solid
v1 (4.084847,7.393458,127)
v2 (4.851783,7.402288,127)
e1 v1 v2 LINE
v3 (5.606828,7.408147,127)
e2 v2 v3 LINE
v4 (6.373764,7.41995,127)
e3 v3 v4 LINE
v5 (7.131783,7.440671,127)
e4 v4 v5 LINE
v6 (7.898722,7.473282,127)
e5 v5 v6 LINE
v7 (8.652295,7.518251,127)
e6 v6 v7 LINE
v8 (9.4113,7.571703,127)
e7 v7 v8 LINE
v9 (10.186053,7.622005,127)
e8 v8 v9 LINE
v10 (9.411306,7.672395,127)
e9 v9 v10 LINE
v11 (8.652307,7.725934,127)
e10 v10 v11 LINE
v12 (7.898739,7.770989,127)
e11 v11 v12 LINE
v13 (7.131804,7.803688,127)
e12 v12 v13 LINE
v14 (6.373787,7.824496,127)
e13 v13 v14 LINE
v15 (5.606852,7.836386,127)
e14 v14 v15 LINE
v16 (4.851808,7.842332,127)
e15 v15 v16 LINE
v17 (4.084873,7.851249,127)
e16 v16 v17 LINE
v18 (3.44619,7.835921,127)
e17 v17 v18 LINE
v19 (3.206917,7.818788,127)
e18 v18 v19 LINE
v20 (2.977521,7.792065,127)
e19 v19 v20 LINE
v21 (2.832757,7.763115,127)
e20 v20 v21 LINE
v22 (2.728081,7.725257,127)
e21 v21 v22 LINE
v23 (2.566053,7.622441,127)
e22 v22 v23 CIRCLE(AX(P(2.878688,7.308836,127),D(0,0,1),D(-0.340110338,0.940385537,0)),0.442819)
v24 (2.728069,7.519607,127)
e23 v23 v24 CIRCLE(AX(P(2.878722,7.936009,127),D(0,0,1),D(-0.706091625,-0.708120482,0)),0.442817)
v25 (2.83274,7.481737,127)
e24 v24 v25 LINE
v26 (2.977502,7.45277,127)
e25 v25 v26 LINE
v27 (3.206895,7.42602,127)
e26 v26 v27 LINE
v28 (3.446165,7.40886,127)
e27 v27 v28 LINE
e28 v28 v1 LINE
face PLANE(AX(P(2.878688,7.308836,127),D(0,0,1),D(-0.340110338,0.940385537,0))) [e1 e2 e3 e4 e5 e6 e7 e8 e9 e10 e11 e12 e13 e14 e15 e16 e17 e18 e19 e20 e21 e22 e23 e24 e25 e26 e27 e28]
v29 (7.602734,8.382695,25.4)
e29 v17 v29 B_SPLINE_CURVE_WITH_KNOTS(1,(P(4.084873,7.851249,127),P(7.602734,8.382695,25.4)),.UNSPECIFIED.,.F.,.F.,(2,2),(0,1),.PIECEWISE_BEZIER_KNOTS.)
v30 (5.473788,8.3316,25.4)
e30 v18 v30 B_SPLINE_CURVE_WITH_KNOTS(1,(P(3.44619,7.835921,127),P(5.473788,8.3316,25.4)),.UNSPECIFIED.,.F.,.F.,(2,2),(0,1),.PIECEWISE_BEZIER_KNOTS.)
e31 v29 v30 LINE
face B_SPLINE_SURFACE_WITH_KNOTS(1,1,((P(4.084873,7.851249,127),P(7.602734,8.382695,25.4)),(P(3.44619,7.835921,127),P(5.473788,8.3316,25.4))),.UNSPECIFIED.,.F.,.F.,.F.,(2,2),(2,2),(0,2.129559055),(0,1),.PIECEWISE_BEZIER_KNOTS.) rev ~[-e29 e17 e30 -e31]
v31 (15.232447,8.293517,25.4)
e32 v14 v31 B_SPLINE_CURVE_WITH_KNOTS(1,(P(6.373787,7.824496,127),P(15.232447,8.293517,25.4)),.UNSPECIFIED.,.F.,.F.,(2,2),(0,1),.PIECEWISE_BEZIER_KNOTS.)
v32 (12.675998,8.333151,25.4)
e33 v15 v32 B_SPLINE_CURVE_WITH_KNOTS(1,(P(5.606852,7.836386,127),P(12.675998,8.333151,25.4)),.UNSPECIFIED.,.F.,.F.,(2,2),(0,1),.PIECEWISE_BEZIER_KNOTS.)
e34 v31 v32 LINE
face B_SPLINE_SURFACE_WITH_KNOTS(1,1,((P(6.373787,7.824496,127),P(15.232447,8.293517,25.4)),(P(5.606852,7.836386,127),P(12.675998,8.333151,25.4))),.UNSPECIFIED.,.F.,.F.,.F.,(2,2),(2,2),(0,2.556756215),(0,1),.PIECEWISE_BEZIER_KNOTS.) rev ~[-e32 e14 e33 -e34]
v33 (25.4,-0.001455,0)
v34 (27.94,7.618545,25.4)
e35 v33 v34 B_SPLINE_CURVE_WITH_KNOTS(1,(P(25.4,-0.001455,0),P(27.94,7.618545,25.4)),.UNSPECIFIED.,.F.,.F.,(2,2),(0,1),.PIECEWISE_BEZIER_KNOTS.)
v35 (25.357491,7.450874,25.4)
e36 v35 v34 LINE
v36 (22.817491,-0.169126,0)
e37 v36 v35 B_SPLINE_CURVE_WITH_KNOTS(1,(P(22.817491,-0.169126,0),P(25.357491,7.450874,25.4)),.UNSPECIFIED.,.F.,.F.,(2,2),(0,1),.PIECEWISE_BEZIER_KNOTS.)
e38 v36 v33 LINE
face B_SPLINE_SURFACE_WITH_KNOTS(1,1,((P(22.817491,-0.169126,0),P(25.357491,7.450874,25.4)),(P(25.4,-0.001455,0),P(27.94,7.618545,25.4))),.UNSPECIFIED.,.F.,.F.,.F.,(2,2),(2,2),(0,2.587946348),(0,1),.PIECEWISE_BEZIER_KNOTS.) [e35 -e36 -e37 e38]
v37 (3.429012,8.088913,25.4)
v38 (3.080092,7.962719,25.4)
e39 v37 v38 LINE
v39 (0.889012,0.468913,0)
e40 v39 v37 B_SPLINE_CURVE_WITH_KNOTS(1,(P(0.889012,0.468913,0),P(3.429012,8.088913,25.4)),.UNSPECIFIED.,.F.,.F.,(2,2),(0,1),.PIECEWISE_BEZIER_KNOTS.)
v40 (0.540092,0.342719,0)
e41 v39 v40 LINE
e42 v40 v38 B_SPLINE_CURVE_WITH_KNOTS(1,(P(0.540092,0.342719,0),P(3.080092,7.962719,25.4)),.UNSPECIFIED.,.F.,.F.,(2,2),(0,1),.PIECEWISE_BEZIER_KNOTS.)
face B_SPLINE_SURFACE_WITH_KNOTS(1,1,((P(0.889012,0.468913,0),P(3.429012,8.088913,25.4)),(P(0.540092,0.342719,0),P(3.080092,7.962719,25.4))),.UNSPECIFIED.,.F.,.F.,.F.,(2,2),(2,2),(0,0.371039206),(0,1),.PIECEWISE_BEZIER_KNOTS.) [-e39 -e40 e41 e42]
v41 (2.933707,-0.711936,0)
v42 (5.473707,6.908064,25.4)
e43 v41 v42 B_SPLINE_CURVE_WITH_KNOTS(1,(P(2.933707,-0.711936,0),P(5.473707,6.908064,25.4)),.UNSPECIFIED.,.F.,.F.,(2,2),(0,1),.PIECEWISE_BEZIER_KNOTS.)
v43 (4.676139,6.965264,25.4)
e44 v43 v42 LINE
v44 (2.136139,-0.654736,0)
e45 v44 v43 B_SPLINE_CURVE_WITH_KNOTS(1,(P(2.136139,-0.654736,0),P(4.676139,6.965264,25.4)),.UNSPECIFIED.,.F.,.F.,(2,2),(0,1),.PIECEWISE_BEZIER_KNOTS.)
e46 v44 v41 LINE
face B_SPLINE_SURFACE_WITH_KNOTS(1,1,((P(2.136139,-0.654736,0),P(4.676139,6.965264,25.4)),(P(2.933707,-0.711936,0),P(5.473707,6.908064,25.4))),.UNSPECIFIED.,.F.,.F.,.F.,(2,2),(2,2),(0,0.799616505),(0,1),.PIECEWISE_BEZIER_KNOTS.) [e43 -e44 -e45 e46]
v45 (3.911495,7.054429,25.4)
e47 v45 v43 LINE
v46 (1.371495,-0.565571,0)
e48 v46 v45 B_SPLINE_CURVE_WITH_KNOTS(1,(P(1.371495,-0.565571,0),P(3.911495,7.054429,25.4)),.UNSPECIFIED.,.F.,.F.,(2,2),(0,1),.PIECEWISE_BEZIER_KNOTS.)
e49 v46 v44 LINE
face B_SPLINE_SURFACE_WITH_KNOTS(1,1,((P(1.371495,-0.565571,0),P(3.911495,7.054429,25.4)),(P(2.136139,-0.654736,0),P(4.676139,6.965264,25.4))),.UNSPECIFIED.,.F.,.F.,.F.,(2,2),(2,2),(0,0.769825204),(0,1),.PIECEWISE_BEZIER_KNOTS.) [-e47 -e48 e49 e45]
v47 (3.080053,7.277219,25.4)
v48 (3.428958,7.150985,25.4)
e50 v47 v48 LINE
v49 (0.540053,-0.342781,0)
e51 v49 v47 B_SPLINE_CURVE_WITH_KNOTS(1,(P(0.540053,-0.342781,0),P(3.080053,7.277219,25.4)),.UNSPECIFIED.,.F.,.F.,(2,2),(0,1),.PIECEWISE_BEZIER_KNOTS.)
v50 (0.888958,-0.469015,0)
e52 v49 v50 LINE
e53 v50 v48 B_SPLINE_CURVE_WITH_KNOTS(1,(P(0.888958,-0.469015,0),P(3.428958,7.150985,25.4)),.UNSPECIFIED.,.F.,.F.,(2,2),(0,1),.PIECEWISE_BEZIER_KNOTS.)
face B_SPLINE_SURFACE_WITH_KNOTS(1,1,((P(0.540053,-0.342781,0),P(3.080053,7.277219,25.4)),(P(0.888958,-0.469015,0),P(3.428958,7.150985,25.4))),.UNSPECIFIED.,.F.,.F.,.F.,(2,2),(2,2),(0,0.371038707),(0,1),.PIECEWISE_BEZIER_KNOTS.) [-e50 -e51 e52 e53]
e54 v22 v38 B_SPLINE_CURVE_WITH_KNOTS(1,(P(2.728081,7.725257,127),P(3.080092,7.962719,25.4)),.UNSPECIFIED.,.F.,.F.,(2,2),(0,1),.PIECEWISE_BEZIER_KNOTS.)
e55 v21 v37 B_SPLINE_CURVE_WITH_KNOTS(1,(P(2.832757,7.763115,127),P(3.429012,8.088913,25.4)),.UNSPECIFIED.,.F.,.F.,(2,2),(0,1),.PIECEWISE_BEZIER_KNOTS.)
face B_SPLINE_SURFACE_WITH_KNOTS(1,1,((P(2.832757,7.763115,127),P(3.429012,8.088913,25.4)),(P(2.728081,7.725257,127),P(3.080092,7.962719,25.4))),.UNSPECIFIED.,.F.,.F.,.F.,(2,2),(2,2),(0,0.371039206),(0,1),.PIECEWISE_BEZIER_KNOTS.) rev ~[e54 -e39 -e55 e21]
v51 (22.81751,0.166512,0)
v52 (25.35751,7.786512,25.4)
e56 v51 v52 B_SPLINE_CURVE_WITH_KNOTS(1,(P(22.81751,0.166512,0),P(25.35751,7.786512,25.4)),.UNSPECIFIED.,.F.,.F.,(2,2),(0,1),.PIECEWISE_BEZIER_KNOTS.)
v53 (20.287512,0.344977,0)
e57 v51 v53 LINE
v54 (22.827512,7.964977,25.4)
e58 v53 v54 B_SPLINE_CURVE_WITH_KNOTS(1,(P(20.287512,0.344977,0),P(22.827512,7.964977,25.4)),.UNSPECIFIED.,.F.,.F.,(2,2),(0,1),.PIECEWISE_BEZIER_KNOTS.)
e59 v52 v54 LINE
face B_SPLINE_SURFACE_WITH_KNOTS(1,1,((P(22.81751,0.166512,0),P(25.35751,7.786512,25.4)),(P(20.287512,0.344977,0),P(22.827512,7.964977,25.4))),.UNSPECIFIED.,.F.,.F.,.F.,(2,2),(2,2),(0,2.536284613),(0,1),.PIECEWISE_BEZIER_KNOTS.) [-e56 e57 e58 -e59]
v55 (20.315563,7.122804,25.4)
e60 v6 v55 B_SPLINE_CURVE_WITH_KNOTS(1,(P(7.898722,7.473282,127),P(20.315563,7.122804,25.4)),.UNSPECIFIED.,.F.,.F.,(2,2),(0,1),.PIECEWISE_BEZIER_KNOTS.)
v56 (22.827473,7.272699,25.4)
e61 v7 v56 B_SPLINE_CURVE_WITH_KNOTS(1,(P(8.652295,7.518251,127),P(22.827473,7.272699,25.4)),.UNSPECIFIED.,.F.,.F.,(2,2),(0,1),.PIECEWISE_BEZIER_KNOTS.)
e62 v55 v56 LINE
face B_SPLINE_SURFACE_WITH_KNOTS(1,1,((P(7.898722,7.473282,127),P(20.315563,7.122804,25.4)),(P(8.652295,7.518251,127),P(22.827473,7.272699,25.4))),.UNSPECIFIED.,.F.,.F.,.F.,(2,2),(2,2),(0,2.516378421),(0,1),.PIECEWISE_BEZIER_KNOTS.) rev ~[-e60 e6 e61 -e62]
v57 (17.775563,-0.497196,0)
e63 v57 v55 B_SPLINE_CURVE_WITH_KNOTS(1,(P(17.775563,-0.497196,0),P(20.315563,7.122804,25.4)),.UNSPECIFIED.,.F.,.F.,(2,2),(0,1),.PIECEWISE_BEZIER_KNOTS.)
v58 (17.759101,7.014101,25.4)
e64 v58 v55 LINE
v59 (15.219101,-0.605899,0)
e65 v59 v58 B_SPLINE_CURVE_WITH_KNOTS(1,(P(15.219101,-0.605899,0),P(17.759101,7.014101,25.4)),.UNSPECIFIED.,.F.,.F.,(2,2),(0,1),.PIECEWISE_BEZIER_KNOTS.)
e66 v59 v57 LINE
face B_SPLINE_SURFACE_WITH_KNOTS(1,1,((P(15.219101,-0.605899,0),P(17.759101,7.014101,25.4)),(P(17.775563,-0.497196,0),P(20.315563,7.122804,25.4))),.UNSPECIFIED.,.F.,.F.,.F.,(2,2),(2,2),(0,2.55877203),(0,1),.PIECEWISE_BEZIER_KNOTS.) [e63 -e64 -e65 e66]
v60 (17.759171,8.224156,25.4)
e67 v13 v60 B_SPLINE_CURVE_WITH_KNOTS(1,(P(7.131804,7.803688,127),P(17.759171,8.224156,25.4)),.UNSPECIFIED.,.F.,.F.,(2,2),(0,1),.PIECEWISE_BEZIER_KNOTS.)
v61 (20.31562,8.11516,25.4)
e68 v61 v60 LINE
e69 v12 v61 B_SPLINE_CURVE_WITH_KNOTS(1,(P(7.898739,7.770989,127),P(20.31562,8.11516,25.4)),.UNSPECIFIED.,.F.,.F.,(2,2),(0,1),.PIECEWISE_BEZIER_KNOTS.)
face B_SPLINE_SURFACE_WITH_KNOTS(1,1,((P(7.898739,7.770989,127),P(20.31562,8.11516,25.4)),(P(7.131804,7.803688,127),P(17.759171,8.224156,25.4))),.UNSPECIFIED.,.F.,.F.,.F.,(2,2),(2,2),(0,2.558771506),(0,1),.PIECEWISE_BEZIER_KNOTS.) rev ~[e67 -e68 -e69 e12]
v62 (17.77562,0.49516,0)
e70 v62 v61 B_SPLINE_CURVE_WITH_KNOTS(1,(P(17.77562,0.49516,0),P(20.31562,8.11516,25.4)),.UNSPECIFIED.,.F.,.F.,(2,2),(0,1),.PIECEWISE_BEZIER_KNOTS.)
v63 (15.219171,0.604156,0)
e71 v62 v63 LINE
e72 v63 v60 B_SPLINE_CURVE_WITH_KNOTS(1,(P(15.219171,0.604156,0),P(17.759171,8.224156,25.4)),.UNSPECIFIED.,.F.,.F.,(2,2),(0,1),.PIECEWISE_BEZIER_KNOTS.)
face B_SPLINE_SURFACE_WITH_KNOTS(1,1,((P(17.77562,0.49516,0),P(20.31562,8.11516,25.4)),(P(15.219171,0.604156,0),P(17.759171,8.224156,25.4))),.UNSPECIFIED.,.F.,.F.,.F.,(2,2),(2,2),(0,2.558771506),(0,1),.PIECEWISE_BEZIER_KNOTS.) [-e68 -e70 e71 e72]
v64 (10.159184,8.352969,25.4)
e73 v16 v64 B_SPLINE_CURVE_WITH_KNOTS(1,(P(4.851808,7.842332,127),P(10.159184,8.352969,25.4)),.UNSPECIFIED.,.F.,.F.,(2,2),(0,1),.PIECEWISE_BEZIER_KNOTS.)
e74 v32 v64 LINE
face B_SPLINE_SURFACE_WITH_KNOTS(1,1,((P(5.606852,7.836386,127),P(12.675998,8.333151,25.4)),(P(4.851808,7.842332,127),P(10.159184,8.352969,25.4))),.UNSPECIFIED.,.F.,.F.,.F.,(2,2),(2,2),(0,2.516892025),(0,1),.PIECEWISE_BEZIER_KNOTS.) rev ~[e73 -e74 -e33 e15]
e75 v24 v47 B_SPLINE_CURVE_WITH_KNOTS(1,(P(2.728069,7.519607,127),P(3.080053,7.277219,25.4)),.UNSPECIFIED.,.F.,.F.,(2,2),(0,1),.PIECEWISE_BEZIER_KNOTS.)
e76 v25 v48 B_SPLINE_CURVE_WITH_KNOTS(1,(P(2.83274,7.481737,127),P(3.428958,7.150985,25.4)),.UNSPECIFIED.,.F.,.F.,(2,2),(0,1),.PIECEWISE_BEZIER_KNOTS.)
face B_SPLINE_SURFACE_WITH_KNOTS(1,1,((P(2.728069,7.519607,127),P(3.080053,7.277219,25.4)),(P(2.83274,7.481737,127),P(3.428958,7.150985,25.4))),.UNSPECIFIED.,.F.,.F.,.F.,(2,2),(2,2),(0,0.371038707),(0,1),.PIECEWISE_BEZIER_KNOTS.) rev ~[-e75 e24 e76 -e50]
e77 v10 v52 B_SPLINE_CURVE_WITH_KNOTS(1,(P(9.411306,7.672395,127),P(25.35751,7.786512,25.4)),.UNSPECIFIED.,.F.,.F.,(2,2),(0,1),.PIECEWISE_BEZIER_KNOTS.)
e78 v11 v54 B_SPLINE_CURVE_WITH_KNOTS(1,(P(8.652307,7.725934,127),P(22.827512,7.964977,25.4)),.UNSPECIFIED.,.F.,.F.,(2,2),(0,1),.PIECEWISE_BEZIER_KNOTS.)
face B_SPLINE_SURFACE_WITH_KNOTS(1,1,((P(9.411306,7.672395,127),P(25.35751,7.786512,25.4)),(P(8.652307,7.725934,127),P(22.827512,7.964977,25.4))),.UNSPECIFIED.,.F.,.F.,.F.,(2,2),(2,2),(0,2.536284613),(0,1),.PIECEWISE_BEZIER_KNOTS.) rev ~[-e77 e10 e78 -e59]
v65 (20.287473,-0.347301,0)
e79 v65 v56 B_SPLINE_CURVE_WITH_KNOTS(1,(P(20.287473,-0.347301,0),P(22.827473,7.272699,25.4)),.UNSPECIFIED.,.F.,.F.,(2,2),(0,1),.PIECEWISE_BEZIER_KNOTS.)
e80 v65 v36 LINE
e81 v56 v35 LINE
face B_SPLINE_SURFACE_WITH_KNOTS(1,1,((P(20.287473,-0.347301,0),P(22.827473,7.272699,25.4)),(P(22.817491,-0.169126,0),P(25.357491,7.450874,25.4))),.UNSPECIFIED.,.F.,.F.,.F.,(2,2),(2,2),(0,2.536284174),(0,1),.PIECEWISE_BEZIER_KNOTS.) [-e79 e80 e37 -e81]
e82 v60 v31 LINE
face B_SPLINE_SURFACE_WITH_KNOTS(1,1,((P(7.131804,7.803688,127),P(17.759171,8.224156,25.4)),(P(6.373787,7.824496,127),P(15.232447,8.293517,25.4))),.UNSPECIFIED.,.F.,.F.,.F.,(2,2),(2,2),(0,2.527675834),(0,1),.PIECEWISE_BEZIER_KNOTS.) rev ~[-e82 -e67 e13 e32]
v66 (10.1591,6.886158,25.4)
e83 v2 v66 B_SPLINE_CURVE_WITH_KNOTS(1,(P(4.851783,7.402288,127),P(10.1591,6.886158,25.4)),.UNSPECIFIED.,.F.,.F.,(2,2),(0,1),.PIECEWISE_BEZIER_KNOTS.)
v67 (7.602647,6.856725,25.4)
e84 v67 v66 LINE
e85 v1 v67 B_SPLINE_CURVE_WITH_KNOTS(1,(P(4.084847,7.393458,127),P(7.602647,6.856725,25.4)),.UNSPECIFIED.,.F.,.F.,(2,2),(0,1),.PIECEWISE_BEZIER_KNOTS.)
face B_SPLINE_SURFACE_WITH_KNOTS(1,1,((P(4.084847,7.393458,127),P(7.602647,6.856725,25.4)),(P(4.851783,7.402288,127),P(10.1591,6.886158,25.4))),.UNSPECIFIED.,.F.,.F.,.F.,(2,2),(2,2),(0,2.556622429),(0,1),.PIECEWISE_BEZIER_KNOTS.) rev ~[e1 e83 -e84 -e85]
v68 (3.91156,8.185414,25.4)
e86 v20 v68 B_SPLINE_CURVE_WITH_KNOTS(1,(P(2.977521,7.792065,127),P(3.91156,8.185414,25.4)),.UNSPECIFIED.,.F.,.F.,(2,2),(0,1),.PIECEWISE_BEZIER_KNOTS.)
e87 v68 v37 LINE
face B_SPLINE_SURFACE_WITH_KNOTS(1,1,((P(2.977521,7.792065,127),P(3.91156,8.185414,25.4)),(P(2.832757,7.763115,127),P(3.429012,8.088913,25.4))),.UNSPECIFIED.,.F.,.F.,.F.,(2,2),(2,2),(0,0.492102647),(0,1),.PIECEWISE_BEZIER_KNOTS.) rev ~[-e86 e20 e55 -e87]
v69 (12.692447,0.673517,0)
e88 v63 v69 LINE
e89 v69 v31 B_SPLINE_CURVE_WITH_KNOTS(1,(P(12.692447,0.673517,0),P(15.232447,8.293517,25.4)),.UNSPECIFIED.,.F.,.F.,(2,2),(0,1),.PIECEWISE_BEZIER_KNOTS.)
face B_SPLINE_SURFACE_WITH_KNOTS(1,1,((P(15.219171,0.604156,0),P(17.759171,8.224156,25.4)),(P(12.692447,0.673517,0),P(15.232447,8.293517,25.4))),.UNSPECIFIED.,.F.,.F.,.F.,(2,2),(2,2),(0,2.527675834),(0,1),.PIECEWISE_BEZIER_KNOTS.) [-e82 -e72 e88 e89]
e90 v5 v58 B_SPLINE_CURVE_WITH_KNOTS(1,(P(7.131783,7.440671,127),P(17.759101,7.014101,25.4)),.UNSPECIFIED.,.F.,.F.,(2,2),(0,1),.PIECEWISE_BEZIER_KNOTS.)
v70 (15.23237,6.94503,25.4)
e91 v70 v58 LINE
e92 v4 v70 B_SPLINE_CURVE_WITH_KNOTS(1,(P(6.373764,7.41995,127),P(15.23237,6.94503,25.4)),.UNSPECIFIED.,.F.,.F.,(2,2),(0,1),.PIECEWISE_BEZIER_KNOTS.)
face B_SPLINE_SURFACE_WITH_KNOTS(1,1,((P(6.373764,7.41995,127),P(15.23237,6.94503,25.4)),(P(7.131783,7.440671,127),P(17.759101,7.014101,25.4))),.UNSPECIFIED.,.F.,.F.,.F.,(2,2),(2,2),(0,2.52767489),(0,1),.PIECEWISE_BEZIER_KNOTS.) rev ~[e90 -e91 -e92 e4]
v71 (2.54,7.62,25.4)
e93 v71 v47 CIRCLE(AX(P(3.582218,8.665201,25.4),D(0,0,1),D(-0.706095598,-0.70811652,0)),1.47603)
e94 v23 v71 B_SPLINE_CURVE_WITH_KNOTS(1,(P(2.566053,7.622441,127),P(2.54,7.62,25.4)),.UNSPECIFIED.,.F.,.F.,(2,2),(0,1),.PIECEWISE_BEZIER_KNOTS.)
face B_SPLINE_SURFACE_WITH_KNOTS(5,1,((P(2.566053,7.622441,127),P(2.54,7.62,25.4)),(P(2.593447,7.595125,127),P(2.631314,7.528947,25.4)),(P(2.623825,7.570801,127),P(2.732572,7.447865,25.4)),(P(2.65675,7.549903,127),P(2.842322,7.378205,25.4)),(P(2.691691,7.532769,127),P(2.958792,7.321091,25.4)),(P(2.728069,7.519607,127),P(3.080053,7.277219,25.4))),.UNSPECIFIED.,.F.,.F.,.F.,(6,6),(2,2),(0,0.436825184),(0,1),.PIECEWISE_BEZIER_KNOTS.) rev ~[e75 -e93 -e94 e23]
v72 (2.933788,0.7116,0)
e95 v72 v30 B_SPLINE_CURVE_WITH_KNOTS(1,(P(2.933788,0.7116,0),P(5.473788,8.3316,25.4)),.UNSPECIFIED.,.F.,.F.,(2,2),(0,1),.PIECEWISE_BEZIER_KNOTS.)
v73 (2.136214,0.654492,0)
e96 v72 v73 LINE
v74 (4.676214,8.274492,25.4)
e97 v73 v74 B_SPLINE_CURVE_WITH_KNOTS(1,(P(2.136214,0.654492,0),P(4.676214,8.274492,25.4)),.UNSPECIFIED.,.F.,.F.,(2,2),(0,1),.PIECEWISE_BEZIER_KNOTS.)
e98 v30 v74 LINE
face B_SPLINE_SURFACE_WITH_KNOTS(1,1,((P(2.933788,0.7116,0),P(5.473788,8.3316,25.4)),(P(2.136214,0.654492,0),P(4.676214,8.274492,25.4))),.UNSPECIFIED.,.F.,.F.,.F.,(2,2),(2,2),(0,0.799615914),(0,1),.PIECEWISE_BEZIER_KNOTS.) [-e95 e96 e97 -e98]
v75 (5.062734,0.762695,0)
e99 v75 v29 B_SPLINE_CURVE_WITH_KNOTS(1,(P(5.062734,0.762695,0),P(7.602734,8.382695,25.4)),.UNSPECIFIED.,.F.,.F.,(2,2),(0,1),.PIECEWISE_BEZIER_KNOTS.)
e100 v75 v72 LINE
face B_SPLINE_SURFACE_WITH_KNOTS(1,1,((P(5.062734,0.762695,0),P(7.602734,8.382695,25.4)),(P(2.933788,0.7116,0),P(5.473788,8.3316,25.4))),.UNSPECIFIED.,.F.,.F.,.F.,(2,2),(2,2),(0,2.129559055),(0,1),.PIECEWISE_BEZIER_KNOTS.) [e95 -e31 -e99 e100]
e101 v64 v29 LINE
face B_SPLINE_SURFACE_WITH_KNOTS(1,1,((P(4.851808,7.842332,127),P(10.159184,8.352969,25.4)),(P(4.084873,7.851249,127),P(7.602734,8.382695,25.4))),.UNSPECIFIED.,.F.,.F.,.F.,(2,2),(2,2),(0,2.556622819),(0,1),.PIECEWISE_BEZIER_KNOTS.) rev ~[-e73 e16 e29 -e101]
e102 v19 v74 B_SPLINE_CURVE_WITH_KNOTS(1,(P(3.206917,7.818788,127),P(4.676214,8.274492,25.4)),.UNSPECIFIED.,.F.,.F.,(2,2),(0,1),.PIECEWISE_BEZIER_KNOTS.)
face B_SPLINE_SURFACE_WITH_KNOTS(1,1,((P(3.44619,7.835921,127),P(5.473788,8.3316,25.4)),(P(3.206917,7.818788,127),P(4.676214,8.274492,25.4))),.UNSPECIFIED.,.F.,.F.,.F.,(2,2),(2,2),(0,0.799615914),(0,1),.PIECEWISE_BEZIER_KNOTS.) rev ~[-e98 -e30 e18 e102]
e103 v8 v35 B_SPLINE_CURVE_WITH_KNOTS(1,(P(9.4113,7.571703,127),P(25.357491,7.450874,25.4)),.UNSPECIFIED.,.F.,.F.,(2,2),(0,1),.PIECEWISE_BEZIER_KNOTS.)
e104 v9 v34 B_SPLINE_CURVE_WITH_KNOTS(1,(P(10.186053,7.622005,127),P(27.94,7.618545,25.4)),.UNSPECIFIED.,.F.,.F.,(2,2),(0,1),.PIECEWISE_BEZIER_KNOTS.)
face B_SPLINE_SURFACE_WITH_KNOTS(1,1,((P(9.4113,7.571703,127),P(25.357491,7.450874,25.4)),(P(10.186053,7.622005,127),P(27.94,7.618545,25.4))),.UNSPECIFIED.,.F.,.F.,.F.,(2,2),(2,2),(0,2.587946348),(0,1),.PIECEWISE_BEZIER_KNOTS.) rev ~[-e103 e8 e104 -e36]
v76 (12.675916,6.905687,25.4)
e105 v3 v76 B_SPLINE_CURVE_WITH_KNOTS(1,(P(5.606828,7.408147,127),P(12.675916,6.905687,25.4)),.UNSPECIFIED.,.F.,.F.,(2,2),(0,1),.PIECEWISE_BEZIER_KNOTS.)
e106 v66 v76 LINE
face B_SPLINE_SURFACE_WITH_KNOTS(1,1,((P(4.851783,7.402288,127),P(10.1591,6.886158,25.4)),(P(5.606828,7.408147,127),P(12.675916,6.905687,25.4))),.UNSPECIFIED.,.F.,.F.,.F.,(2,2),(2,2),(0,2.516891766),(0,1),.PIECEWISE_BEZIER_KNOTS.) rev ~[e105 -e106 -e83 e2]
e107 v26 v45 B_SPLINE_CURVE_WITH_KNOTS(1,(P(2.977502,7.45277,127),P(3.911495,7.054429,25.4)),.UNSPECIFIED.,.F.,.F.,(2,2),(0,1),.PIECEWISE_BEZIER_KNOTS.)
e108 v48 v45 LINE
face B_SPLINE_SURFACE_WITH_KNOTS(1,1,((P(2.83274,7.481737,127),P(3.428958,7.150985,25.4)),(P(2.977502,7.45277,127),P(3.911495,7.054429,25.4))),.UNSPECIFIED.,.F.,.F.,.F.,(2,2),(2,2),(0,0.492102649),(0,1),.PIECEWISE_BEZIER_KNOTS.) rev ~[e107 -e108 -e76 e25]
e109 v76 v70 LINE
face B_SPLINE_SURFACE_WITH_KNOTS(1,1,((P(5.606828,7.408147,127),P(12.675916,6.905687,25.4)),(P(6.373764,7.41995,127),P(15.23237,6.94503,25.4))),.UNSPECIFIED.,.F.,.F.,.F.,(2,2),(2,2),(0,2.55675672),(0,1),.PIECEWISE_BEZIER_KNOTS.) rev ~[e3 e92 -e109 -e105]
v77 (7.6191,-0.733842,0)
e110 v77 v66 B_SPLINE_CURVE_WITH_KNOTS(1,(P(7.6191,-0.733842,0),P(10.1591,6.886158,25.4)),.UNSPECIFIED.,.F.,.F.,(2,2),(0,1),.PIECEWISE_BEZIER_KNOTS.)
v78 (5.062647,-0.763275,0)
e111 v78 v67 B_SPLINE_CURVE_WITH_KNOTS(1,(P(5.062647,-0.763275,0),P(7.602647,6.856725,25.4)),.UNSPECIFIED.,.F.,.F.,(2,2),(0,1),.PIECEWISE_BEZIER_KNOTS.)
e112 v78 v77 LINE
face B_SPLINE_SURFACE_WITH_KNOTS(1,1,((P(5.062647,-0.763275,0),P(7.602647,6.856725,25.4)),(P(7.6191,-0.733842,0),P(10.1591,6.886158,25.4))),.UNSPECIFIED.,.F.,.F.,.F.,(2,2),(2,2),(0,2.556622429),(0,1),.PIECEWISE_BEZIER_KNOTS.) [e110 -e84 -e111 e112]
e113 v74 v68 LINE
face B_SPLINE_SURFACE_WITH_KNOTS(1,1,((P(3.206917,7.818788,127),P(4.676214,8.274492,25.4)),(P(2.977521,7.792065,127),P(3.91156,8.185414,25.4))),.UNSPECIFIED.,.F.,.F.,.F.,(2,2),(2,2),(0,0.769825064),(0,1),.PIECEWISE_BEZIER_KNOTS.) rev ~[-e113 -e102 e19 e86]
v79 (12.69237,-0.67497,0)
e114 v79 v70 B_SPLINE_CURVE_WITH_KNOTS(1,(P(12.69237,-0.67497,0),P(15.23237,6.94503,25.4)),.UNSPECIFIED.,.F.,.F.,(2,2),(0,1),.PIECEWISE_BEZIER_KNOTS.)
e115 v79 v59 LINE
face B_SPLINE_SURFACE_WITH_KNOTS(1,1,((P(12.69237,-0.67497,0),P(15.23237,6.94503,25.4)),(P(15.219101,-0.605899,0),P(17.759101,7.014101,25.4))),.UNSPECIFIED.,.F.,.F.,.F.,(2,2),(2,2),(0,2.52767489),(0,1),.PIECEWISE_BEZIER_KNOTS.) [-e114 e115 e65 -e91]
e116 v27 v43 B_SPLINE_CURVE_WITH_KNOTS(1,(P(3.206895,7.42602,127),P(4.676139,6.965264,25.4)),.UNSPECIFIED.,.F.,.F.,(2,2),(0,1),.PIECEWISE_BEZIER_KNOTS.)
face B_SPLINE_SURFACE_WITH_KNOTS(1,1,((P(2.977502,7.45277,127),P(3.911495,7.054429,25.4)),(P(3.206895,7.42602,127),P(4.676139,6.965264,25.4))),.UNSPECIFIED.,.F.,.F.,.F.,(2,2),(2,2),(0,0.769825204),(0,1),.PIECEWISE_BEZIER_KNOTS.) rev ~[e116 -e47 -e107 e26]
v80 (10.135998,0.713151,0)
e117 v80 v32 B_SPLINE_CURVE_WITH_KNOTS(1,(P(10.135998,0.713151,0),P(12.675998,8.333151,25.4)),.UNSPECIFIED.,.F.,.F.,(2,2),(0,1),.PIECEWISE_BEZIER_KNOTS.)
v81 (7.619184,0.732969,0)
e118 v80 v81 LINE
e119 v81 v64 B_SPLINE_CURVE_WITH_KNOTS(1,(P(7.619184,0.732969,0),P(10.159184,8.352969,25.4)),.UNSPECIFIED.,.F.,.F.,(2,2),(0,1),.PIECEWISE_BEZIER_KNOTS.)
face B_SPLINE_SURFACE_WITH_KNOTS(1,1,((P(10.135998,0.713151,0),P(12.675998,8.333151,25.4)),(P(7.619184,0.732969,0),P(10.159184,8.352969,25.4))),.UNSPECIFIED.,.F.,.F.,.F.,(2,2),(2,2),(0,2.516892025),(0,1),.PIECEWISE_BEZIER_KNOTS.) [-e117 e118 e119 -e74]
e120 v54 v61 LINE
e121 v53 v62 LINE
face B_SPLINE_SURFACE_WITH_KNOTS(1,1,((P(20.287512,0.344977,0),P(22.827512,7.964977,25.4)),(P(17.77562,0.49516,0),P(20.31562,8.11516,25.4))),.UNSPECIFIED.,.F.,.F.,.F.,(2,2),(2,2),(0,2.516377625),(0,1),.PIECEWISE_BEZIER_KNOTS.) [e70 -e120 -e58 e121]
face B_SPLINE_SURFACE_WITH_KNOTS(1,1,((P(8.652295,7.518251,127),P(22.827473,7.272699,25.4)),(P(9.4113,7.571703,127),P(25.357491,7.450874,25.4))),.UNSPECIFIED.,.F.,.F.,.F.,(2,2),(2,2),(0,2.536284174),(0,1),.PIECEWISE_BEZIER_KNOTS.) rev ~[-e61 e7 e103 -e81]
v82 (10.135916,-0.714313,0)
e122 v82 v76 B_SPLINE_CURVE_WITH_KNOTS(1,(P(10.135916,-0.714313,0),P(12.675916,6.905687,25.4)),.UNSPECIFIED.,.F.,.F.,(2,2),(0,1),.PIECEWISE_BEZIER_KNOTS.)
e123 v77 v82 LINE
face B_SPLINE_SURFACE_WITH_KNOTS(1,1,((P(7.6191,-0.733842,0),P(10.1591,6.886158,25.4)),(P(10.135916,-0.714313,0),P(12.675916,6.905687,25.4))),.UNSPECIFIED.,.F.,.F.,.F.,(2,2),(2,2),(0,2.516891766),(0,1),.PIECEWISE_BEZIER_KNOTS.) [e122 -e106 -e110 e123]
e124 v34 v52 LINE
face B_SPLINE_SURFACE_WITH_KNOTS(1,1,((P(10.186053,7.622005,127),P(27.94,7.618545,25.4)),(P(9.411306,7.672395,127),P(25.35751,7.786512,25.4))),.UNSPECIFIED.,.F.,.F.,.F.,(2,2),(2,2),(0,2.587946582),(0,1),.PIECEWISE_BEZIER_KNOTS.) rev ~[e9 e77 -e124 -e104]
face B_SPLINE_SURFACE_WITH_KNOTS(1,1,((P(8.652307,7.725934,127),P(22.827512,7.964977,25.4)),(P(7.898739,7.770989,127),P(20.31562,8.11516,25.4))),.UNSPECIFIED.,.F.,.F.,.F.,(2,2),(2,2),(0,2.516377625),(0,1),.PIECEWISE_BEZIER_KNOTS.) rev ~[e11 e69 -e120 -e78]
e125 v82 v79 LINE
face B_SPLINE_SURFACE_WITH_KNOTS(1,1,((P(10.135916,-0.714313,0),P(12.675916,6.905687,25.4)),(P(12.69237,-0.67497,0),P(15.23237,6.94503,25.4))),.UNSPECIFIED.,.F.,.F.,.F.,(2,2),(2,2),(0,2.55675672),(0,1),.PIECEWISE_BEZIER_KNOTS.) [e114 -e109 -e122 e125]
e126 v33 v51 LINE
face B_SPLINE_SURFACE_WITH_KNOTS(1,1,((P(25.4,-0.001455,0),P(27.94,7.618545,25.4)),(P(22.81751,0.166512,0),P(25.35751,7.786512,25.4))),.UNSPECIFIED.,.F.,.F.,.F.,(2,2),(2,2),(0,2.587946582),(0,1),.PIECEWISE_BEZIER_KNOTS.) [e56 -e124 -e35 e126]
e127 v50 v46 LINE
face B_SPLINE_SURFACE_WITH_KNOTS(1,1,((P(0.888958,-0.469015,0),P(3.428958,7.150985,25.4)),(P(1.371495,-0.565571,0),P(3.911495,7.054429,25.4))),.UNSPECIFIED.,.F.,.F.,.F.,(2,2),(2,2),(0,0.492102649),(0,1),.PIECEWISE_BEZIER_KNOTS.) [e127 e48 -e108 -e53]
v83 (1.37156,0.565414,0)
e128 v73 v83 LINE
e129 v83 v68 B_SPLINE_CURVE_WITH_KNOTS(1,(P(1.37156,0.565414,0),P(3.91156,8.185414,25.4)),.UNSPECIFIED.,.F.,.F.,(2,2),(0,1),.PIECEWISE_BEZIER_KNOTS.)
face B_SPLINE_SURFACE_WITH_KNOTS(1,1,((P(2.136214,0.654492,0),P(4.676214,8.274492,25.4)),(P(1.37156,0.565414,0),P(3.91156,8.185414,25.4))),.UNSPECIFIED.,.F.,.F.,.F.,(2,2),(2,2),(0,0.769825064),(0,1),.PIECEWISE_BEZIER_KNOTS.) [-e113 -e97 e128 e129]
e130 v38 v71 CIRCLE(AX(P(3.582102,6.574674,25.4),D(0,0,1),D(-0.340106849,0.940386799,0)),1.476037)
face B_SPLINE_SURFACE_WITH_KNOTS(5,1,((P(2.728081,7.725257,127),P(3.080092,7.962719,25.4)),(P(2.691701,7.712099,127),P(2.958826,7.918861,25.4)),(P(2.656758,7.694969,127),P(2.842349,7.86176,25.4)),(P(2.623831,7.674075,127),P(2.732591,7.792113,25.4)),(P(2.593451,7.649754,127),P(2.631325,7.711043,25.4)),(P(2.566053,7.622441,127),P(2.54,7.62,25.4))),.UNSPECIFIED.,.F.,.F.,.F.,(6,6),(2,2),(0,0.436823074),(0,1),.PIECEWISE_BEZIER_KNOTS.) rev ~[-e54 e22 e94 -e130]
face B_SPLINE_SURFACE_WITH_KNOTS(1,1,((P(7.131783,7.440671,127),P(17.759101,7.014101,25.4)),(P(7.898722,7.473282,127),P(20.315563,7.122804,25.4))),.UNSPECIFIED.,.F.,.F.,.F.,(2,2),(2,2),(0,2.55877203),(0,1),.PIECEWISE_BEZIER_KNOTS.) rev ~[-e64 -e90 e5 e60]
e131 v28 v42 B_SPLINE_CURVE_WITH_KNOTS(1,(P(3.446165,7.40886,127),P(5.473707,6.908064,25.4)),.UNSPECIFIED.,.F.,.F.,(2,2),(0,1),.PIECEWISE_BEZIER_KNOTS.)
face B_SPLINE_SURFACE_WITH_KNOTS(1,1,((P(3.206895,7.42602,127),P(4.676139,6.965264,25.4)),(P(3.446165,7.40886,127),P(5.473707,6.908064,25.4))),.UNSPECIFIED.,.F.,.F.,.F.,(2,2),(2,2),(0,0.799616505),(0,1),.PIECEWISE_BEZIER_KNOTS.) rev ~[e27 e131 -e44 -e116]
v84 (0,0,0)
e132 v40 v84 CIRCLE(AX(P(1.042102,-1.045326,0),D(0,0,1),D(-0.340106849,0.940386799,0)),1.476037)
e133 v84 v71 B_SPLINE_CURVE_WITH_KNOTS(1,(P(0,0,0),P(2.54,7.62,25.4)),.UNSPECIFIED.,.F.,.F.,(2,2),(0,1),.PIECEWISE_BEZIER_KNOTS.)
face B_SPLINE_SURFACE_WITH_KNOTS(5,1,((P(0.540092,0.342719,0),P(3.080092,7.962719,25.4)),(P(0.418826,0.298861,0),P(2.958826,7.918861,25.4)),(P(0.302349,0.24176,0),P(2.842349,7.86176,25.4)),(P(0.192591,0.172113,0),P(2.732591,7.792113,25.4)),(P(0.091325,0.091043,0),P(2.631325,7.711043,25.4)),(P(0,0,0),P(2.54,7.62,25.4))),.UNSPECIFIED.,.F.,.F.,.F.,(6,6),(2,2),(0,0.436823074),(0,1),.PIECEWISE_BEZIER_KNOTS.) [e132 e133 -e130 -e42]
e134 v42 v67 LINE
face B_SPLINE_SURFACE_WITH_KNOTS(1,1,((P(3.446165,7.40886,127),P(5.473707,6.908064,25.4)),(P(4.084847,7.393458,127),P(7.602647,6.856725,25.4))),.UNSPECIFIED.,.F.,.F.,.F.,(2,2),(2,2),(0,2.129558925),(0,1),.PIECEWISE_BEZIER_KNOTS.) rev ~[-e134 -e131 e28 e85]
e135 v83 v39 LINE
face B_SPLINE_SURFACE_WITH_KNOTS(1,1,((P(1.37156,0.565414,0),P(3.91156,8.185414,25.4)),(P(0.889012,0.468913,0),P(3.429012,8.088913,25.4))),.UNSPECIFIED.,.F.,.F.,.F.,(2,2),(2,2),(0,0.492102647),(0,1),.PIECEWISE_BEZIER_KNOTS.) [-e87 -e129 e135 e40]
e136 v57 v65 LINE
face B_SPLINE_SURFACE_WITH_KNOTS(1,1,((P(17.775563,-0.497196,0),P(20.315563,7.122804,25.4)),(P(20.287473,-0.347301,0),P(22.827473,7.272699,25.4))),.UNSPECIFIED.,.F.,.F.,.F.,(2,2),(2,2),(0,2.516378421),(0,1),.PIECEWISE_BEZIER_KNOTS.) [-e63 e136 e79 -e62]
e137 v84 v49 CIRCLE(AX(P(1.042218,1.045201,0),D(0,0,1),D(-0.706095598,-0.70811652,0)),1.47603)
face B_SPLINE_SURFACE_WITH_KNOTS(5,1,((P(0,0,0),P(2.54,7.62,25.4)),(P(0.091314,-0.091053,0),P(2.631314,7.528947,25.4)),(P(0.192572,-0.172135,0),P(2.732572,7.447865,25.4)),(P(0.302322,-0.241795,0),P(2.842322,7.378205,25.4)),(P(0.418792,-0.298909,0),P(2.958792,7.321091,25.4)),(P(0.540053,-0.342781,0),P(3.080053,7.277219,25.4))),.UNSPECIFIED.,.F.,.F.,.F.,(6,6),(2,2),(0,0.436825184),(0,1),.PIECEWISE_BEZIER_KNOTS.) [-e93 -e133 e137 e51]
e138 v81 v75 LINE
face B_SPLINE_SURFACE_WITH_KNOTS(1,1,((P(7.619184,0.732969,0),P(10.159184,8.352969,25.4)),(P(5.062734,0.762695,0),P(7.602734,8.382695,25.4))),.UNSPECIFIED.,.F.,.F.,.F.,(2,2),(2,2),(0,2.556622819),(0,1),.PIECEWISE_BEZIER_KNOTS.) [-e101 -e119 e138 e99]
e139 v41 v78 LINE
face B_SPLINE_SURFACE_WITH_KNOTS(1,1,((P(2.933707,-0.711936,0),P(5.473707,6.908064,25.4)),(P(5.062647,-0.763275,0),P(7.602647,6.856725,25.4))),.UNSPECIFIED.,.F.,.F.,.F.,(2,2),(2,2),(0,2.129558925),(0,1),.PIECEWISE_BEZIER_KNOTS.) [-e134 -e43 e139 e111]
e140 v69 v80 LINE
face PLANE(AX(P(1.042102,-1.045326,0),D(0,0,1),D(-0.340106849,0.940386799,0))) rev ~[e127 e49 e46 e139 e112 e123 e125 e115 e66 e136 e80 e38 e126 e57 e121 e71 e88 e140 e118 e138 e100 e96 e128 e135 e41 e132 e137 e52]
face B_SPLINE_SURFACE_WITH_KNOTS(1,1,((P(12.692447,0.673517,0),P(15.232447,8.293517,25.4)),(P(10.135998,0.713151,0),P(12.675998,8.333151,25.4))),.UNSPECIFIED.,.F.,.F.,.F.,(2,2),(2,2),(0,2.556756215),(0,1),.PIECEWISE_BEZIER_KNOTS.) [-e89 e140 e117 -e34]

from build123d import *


with BuildPart() as f3:
    # F0 (on Top) → F3 section 0
    with BuildSketch(Plane.XY):
        with BuildLine():
            Line((25.4, -0.001455), (22.81751, 0.166512))
            Line((22.81751, 0.166512), (20.287512, 0.344977))
            Line((20.287512, 0.344977), (17.77562, 0.49516))
            Line((17.77562, 0.49516), (15.219171, 0.604156))
            Line((15.219171, 0.604156), (12.692447, 0.673517))
            Line((12.692447, 0.673517), (10.135998, 0.713151))
            Line((10.135998, 0.713151), (7.619184, 0.732969))
            Line((7.619184, 0.732969), (5.062734, 0.762695))
            Line((5.062734, 0.762695), (2.933788, 0.7116))
            Line((2.933788, 0.7116), (2.136214, 0.654492))
            Line((2.136214, 0.654492), (1.37156, 0.565414))
            Line((1.37156, 0.565414), (0.889012, 0.468913))
            Line((0.889012, 0.468913), (0.540092, 0.342719))
            ThreePointArc((0.540092, 0.342719), (0.251258, 0.200968), (0, 0))
            ThreePointArc((0, 0), (0.251235, -0.200997), (0.540053, -0.342781))
            Line((0.540053, -0.342781), (0.888958, -0.469015))
            Line((0.888958, -0.469015), (1.371495, -0.565571))
            Line((1.371495, -0.565571), (2.136139, -0.654736))
            Line((2.136139, -0.654736), (2.933707, -0.711936))
            Line((2.933707, -0.711936), (5.062647, -0.763275))
            Line((5.062647, -0.763275), (7.6191, -0.733842))
            Line((7.6191, -0.733842), (10.135916, -0.714313))
            Line((10.135916, -0.714313), (12.69237, -0.67497))
            Line((12.69237, -0.67497), (15.219101, -0.605899))
            Line((15.219101, -0.605899), (17.775563, -0.497196))
            Line((17.775563, -0.497196), (20.287473, -0.347301))
            Line((20.287473, -0.347301), (22.817491, -0.169126))
            Line((22.817491, -0.169126), (25.4, -0.001455))
        make_face()
    # F2 (on offset) → F3 section 1
    with BuildSketch(Plane.XY.offset(25.4)):
        with BuildLine():
            Line((7.602647, 6.856725), (10.1591, 6.886158))
            Line((10.1591, 6.886158), (12.675916, 6.905687))
            Line((12.675916, 6.905687), (15.23237, 6.94503))
            Line((15.23237, 6.94503), (17.759101, 7.014101))
            Line((17.759101, 7.014101), (20.315563, 7.122804))
            Line((20.315563, 7.122804), (22.827473, 7.272699))
            Line((22.827473, 7.272699), (25.357491, 7.450874))
            Line((25.357491, 7.450874), (27.94, 7.618545))
            Line((27.94, 7.618545), (25.35751, 7.786512))
            Line((25.35751, 7.786512), (22.827512, 7.964977))
            Line((22.827512, 7.964977), (20.31562, 8.11516))
            Line((20.31562, 8.11516), (17.759171, 8.224156))
            Line((17.759171, 8.224156), (15.232447, 8.293517))
            Line((15.232447, 8.293517), (12.675998, 8.333151))
            Line((12.675998, 8.333151), (10.159184, 8.352969))
            Line((10.159184, 8.352969), (7.602734, 8.382695))
            Line((7.602734, 8.382695), (5.473788, 8.3316))
            Line((5.473788, 8.3316), (4.676214, 8.274492))
            Line((4.676214, 8.274492), (3.91156, 8.185414))
            Line((3.91156, 8.185414), (3.429012, 8.088913))
            Line((3.429012, 8.088913), (3.080092, 7.962719))
            ThreePointArc((3.080092, 7.962719), (2.791258, 7.820968), (2.54, 7.62))
            ThreePointArc((2.54, 7.62), (2.791235, 7.419003), (3.080053, 7.277219))
            Line((3.080053, 7.277219), (3.428958, 7.150985))
            Line((3.428958, 7.150985), (3.911495, 7.054429))
            Line((3.911495, 7.054429), (4.676139, 6.965264))
            Line((4.676139, 6.965264), (5.473707, 6.908064))
            Line((5.473707, 6.908064), (7.602647, 6.856725))
        make_face()
    loft()

    # F5 (on offset) → F6 section 0
    with BuildSketch(Plane.XY.offset(127)):
        with BuildLine():
            Line((4.084847, 7.393458), (4.851783, 7.402288))
            Line((4.851783, 7.402288), (5.606828, 7.408147))
            Line((5.606828, 7.408147), (6.373764, 7.41995))
            Line((6.373764, 7.41995), (7.131783, 7.440671))
            Line((7.131783, 7.440671), (7.898722, 7.473282))
            Line((7.898722, 7.473282), (8.652295, 7.518251))
            Line((8.652295, 7.518251), (9.4113, 7.571703))
            Line((9.4113, 7.571703), (10.186053, 7.622005))
            Line((10.186053, 7.622005), (9.411306, 7.672395))
            Line((9.411306, 7.672395), (8.652307, 7.725934))
            Line((8.652307, 7.725934), (7.898739, 7.770989))
            Line((7.898739, 7.770989), (7.131804, 7.803688))
            Line((7.131804, 7.803688), (6.373787, 7.824496))
            Line((6.373787, 7.824496), (5.606852, 7.836386))
            Line((5.606852, 7.836386), (4.851808, 7.842332))
            Line((4.851808, 7.842332), (4.084873, 7.851249))
            Line((4.084873, 7.851249), (3.44619, 7.835921))
            Line((3.44619, 7.835921), (3.206917, 7.818788))
            Line((3.206917, 7.818788), (2.977521, 7.792065))
            Line((2.977521, 7.792065), (2.832757, 7.763115))
            Line((2.832757, 7.763115), (2.728081, 7.725257))
            ThreePointArc((2.728081, 7.725257), (2.64143, 7.682731), (2.566053, 7.622441))
            ThreePointArc((2.566053, 7.622441), (2.641424, 7.562142), (2.728069, 7.519607))
            Line((2.728069, 7.519607), (2.83274, 7.481737))
            Line((2.83274, 7.481737), (2.977502, 7.45277))
            Line((2.977502, 7.45277), (3.206895, 7.42602))
            Line((3.206895, 7.42602), (3.446165, 7.40886))
            Line((3.446165, 7.40886), (4.084847, 7.393458))
        make_face()
    # F2 (on offset) → F6 section 1
    with BuildSketch(Plane.XY.offset(25.4)):
        with BuildLine():
            Line((7.602647, 6.856725), (10.1591, 6.886158))
            Line((10.1591, 6.886158), (12.675916, 6.905687))
            Line((12.675916, 6.905687), (15.23237, 6.94503))
            Line((15.23237, 6.94503), (17.759101, 7.014101))
            Line((17.759101, 7.014101), (20.315563, 7.122804))
            Line((20.315563, 7.122804), (22.827473, 7.272699))
            Line((22.827473, 7.272699), (25.357491, 7.450874))
            Line((25.357491, 7.450874), (27.94, 7.618545))
            Line((27.94, 7.618545), (25.35751, 7.786512))
            Line((25.35751, 7.786512), (22.827512, 7.964977))
            Line((22.827512, 7.964977), (20.31562, 8.11516))
            Line((20.31562, 8.11516), (17.759171, 8.224156))
            Line((17.759171, 8.224156), (15.232447, 8.293517))
            Line((15.232447, 8.293517), (12.675998, 8.333151))
            Line((12.675998, 8.333151), (10.159184, 8.352969))
            Line((10.159184, 8.352969), (7.602734, 8.382695))
            Line((7.602734, 8.382695), (5.473788, 8.3316))
            Line((5.473788, 8.3316), (4.676214, 8.274492))
            Line((4.676214, 8.274492), (3.91156, 8.185414))
            Line((3.91156, 8.185414), (3.429012, 8.088913))
            Line((3.429012, 8.088913), (3.080092, 7.962719))
            ThreePointArc((3.080092, 7.962719), (2.791258, 7.820968), (2.54, 7.62))
            ThreePointArc((2.54, 7.62), (2.791235, 7.419003), (3.080053, 7.277219))
            Line((3.080053, 7.277219), (3.428958, 7.150985))
            Line((3.428958, 7.150985), (3.911495, 7.054429))
            Line((3.911495, 7.054429), (4.676139, 6.965264))
            Line((4.676139, 6.965264), (5.473707, 6.908064))
            Line((5.473707, 6.908064), (7.602647, 6.856725))
        make_face()
    loft()


solid = f3.part
